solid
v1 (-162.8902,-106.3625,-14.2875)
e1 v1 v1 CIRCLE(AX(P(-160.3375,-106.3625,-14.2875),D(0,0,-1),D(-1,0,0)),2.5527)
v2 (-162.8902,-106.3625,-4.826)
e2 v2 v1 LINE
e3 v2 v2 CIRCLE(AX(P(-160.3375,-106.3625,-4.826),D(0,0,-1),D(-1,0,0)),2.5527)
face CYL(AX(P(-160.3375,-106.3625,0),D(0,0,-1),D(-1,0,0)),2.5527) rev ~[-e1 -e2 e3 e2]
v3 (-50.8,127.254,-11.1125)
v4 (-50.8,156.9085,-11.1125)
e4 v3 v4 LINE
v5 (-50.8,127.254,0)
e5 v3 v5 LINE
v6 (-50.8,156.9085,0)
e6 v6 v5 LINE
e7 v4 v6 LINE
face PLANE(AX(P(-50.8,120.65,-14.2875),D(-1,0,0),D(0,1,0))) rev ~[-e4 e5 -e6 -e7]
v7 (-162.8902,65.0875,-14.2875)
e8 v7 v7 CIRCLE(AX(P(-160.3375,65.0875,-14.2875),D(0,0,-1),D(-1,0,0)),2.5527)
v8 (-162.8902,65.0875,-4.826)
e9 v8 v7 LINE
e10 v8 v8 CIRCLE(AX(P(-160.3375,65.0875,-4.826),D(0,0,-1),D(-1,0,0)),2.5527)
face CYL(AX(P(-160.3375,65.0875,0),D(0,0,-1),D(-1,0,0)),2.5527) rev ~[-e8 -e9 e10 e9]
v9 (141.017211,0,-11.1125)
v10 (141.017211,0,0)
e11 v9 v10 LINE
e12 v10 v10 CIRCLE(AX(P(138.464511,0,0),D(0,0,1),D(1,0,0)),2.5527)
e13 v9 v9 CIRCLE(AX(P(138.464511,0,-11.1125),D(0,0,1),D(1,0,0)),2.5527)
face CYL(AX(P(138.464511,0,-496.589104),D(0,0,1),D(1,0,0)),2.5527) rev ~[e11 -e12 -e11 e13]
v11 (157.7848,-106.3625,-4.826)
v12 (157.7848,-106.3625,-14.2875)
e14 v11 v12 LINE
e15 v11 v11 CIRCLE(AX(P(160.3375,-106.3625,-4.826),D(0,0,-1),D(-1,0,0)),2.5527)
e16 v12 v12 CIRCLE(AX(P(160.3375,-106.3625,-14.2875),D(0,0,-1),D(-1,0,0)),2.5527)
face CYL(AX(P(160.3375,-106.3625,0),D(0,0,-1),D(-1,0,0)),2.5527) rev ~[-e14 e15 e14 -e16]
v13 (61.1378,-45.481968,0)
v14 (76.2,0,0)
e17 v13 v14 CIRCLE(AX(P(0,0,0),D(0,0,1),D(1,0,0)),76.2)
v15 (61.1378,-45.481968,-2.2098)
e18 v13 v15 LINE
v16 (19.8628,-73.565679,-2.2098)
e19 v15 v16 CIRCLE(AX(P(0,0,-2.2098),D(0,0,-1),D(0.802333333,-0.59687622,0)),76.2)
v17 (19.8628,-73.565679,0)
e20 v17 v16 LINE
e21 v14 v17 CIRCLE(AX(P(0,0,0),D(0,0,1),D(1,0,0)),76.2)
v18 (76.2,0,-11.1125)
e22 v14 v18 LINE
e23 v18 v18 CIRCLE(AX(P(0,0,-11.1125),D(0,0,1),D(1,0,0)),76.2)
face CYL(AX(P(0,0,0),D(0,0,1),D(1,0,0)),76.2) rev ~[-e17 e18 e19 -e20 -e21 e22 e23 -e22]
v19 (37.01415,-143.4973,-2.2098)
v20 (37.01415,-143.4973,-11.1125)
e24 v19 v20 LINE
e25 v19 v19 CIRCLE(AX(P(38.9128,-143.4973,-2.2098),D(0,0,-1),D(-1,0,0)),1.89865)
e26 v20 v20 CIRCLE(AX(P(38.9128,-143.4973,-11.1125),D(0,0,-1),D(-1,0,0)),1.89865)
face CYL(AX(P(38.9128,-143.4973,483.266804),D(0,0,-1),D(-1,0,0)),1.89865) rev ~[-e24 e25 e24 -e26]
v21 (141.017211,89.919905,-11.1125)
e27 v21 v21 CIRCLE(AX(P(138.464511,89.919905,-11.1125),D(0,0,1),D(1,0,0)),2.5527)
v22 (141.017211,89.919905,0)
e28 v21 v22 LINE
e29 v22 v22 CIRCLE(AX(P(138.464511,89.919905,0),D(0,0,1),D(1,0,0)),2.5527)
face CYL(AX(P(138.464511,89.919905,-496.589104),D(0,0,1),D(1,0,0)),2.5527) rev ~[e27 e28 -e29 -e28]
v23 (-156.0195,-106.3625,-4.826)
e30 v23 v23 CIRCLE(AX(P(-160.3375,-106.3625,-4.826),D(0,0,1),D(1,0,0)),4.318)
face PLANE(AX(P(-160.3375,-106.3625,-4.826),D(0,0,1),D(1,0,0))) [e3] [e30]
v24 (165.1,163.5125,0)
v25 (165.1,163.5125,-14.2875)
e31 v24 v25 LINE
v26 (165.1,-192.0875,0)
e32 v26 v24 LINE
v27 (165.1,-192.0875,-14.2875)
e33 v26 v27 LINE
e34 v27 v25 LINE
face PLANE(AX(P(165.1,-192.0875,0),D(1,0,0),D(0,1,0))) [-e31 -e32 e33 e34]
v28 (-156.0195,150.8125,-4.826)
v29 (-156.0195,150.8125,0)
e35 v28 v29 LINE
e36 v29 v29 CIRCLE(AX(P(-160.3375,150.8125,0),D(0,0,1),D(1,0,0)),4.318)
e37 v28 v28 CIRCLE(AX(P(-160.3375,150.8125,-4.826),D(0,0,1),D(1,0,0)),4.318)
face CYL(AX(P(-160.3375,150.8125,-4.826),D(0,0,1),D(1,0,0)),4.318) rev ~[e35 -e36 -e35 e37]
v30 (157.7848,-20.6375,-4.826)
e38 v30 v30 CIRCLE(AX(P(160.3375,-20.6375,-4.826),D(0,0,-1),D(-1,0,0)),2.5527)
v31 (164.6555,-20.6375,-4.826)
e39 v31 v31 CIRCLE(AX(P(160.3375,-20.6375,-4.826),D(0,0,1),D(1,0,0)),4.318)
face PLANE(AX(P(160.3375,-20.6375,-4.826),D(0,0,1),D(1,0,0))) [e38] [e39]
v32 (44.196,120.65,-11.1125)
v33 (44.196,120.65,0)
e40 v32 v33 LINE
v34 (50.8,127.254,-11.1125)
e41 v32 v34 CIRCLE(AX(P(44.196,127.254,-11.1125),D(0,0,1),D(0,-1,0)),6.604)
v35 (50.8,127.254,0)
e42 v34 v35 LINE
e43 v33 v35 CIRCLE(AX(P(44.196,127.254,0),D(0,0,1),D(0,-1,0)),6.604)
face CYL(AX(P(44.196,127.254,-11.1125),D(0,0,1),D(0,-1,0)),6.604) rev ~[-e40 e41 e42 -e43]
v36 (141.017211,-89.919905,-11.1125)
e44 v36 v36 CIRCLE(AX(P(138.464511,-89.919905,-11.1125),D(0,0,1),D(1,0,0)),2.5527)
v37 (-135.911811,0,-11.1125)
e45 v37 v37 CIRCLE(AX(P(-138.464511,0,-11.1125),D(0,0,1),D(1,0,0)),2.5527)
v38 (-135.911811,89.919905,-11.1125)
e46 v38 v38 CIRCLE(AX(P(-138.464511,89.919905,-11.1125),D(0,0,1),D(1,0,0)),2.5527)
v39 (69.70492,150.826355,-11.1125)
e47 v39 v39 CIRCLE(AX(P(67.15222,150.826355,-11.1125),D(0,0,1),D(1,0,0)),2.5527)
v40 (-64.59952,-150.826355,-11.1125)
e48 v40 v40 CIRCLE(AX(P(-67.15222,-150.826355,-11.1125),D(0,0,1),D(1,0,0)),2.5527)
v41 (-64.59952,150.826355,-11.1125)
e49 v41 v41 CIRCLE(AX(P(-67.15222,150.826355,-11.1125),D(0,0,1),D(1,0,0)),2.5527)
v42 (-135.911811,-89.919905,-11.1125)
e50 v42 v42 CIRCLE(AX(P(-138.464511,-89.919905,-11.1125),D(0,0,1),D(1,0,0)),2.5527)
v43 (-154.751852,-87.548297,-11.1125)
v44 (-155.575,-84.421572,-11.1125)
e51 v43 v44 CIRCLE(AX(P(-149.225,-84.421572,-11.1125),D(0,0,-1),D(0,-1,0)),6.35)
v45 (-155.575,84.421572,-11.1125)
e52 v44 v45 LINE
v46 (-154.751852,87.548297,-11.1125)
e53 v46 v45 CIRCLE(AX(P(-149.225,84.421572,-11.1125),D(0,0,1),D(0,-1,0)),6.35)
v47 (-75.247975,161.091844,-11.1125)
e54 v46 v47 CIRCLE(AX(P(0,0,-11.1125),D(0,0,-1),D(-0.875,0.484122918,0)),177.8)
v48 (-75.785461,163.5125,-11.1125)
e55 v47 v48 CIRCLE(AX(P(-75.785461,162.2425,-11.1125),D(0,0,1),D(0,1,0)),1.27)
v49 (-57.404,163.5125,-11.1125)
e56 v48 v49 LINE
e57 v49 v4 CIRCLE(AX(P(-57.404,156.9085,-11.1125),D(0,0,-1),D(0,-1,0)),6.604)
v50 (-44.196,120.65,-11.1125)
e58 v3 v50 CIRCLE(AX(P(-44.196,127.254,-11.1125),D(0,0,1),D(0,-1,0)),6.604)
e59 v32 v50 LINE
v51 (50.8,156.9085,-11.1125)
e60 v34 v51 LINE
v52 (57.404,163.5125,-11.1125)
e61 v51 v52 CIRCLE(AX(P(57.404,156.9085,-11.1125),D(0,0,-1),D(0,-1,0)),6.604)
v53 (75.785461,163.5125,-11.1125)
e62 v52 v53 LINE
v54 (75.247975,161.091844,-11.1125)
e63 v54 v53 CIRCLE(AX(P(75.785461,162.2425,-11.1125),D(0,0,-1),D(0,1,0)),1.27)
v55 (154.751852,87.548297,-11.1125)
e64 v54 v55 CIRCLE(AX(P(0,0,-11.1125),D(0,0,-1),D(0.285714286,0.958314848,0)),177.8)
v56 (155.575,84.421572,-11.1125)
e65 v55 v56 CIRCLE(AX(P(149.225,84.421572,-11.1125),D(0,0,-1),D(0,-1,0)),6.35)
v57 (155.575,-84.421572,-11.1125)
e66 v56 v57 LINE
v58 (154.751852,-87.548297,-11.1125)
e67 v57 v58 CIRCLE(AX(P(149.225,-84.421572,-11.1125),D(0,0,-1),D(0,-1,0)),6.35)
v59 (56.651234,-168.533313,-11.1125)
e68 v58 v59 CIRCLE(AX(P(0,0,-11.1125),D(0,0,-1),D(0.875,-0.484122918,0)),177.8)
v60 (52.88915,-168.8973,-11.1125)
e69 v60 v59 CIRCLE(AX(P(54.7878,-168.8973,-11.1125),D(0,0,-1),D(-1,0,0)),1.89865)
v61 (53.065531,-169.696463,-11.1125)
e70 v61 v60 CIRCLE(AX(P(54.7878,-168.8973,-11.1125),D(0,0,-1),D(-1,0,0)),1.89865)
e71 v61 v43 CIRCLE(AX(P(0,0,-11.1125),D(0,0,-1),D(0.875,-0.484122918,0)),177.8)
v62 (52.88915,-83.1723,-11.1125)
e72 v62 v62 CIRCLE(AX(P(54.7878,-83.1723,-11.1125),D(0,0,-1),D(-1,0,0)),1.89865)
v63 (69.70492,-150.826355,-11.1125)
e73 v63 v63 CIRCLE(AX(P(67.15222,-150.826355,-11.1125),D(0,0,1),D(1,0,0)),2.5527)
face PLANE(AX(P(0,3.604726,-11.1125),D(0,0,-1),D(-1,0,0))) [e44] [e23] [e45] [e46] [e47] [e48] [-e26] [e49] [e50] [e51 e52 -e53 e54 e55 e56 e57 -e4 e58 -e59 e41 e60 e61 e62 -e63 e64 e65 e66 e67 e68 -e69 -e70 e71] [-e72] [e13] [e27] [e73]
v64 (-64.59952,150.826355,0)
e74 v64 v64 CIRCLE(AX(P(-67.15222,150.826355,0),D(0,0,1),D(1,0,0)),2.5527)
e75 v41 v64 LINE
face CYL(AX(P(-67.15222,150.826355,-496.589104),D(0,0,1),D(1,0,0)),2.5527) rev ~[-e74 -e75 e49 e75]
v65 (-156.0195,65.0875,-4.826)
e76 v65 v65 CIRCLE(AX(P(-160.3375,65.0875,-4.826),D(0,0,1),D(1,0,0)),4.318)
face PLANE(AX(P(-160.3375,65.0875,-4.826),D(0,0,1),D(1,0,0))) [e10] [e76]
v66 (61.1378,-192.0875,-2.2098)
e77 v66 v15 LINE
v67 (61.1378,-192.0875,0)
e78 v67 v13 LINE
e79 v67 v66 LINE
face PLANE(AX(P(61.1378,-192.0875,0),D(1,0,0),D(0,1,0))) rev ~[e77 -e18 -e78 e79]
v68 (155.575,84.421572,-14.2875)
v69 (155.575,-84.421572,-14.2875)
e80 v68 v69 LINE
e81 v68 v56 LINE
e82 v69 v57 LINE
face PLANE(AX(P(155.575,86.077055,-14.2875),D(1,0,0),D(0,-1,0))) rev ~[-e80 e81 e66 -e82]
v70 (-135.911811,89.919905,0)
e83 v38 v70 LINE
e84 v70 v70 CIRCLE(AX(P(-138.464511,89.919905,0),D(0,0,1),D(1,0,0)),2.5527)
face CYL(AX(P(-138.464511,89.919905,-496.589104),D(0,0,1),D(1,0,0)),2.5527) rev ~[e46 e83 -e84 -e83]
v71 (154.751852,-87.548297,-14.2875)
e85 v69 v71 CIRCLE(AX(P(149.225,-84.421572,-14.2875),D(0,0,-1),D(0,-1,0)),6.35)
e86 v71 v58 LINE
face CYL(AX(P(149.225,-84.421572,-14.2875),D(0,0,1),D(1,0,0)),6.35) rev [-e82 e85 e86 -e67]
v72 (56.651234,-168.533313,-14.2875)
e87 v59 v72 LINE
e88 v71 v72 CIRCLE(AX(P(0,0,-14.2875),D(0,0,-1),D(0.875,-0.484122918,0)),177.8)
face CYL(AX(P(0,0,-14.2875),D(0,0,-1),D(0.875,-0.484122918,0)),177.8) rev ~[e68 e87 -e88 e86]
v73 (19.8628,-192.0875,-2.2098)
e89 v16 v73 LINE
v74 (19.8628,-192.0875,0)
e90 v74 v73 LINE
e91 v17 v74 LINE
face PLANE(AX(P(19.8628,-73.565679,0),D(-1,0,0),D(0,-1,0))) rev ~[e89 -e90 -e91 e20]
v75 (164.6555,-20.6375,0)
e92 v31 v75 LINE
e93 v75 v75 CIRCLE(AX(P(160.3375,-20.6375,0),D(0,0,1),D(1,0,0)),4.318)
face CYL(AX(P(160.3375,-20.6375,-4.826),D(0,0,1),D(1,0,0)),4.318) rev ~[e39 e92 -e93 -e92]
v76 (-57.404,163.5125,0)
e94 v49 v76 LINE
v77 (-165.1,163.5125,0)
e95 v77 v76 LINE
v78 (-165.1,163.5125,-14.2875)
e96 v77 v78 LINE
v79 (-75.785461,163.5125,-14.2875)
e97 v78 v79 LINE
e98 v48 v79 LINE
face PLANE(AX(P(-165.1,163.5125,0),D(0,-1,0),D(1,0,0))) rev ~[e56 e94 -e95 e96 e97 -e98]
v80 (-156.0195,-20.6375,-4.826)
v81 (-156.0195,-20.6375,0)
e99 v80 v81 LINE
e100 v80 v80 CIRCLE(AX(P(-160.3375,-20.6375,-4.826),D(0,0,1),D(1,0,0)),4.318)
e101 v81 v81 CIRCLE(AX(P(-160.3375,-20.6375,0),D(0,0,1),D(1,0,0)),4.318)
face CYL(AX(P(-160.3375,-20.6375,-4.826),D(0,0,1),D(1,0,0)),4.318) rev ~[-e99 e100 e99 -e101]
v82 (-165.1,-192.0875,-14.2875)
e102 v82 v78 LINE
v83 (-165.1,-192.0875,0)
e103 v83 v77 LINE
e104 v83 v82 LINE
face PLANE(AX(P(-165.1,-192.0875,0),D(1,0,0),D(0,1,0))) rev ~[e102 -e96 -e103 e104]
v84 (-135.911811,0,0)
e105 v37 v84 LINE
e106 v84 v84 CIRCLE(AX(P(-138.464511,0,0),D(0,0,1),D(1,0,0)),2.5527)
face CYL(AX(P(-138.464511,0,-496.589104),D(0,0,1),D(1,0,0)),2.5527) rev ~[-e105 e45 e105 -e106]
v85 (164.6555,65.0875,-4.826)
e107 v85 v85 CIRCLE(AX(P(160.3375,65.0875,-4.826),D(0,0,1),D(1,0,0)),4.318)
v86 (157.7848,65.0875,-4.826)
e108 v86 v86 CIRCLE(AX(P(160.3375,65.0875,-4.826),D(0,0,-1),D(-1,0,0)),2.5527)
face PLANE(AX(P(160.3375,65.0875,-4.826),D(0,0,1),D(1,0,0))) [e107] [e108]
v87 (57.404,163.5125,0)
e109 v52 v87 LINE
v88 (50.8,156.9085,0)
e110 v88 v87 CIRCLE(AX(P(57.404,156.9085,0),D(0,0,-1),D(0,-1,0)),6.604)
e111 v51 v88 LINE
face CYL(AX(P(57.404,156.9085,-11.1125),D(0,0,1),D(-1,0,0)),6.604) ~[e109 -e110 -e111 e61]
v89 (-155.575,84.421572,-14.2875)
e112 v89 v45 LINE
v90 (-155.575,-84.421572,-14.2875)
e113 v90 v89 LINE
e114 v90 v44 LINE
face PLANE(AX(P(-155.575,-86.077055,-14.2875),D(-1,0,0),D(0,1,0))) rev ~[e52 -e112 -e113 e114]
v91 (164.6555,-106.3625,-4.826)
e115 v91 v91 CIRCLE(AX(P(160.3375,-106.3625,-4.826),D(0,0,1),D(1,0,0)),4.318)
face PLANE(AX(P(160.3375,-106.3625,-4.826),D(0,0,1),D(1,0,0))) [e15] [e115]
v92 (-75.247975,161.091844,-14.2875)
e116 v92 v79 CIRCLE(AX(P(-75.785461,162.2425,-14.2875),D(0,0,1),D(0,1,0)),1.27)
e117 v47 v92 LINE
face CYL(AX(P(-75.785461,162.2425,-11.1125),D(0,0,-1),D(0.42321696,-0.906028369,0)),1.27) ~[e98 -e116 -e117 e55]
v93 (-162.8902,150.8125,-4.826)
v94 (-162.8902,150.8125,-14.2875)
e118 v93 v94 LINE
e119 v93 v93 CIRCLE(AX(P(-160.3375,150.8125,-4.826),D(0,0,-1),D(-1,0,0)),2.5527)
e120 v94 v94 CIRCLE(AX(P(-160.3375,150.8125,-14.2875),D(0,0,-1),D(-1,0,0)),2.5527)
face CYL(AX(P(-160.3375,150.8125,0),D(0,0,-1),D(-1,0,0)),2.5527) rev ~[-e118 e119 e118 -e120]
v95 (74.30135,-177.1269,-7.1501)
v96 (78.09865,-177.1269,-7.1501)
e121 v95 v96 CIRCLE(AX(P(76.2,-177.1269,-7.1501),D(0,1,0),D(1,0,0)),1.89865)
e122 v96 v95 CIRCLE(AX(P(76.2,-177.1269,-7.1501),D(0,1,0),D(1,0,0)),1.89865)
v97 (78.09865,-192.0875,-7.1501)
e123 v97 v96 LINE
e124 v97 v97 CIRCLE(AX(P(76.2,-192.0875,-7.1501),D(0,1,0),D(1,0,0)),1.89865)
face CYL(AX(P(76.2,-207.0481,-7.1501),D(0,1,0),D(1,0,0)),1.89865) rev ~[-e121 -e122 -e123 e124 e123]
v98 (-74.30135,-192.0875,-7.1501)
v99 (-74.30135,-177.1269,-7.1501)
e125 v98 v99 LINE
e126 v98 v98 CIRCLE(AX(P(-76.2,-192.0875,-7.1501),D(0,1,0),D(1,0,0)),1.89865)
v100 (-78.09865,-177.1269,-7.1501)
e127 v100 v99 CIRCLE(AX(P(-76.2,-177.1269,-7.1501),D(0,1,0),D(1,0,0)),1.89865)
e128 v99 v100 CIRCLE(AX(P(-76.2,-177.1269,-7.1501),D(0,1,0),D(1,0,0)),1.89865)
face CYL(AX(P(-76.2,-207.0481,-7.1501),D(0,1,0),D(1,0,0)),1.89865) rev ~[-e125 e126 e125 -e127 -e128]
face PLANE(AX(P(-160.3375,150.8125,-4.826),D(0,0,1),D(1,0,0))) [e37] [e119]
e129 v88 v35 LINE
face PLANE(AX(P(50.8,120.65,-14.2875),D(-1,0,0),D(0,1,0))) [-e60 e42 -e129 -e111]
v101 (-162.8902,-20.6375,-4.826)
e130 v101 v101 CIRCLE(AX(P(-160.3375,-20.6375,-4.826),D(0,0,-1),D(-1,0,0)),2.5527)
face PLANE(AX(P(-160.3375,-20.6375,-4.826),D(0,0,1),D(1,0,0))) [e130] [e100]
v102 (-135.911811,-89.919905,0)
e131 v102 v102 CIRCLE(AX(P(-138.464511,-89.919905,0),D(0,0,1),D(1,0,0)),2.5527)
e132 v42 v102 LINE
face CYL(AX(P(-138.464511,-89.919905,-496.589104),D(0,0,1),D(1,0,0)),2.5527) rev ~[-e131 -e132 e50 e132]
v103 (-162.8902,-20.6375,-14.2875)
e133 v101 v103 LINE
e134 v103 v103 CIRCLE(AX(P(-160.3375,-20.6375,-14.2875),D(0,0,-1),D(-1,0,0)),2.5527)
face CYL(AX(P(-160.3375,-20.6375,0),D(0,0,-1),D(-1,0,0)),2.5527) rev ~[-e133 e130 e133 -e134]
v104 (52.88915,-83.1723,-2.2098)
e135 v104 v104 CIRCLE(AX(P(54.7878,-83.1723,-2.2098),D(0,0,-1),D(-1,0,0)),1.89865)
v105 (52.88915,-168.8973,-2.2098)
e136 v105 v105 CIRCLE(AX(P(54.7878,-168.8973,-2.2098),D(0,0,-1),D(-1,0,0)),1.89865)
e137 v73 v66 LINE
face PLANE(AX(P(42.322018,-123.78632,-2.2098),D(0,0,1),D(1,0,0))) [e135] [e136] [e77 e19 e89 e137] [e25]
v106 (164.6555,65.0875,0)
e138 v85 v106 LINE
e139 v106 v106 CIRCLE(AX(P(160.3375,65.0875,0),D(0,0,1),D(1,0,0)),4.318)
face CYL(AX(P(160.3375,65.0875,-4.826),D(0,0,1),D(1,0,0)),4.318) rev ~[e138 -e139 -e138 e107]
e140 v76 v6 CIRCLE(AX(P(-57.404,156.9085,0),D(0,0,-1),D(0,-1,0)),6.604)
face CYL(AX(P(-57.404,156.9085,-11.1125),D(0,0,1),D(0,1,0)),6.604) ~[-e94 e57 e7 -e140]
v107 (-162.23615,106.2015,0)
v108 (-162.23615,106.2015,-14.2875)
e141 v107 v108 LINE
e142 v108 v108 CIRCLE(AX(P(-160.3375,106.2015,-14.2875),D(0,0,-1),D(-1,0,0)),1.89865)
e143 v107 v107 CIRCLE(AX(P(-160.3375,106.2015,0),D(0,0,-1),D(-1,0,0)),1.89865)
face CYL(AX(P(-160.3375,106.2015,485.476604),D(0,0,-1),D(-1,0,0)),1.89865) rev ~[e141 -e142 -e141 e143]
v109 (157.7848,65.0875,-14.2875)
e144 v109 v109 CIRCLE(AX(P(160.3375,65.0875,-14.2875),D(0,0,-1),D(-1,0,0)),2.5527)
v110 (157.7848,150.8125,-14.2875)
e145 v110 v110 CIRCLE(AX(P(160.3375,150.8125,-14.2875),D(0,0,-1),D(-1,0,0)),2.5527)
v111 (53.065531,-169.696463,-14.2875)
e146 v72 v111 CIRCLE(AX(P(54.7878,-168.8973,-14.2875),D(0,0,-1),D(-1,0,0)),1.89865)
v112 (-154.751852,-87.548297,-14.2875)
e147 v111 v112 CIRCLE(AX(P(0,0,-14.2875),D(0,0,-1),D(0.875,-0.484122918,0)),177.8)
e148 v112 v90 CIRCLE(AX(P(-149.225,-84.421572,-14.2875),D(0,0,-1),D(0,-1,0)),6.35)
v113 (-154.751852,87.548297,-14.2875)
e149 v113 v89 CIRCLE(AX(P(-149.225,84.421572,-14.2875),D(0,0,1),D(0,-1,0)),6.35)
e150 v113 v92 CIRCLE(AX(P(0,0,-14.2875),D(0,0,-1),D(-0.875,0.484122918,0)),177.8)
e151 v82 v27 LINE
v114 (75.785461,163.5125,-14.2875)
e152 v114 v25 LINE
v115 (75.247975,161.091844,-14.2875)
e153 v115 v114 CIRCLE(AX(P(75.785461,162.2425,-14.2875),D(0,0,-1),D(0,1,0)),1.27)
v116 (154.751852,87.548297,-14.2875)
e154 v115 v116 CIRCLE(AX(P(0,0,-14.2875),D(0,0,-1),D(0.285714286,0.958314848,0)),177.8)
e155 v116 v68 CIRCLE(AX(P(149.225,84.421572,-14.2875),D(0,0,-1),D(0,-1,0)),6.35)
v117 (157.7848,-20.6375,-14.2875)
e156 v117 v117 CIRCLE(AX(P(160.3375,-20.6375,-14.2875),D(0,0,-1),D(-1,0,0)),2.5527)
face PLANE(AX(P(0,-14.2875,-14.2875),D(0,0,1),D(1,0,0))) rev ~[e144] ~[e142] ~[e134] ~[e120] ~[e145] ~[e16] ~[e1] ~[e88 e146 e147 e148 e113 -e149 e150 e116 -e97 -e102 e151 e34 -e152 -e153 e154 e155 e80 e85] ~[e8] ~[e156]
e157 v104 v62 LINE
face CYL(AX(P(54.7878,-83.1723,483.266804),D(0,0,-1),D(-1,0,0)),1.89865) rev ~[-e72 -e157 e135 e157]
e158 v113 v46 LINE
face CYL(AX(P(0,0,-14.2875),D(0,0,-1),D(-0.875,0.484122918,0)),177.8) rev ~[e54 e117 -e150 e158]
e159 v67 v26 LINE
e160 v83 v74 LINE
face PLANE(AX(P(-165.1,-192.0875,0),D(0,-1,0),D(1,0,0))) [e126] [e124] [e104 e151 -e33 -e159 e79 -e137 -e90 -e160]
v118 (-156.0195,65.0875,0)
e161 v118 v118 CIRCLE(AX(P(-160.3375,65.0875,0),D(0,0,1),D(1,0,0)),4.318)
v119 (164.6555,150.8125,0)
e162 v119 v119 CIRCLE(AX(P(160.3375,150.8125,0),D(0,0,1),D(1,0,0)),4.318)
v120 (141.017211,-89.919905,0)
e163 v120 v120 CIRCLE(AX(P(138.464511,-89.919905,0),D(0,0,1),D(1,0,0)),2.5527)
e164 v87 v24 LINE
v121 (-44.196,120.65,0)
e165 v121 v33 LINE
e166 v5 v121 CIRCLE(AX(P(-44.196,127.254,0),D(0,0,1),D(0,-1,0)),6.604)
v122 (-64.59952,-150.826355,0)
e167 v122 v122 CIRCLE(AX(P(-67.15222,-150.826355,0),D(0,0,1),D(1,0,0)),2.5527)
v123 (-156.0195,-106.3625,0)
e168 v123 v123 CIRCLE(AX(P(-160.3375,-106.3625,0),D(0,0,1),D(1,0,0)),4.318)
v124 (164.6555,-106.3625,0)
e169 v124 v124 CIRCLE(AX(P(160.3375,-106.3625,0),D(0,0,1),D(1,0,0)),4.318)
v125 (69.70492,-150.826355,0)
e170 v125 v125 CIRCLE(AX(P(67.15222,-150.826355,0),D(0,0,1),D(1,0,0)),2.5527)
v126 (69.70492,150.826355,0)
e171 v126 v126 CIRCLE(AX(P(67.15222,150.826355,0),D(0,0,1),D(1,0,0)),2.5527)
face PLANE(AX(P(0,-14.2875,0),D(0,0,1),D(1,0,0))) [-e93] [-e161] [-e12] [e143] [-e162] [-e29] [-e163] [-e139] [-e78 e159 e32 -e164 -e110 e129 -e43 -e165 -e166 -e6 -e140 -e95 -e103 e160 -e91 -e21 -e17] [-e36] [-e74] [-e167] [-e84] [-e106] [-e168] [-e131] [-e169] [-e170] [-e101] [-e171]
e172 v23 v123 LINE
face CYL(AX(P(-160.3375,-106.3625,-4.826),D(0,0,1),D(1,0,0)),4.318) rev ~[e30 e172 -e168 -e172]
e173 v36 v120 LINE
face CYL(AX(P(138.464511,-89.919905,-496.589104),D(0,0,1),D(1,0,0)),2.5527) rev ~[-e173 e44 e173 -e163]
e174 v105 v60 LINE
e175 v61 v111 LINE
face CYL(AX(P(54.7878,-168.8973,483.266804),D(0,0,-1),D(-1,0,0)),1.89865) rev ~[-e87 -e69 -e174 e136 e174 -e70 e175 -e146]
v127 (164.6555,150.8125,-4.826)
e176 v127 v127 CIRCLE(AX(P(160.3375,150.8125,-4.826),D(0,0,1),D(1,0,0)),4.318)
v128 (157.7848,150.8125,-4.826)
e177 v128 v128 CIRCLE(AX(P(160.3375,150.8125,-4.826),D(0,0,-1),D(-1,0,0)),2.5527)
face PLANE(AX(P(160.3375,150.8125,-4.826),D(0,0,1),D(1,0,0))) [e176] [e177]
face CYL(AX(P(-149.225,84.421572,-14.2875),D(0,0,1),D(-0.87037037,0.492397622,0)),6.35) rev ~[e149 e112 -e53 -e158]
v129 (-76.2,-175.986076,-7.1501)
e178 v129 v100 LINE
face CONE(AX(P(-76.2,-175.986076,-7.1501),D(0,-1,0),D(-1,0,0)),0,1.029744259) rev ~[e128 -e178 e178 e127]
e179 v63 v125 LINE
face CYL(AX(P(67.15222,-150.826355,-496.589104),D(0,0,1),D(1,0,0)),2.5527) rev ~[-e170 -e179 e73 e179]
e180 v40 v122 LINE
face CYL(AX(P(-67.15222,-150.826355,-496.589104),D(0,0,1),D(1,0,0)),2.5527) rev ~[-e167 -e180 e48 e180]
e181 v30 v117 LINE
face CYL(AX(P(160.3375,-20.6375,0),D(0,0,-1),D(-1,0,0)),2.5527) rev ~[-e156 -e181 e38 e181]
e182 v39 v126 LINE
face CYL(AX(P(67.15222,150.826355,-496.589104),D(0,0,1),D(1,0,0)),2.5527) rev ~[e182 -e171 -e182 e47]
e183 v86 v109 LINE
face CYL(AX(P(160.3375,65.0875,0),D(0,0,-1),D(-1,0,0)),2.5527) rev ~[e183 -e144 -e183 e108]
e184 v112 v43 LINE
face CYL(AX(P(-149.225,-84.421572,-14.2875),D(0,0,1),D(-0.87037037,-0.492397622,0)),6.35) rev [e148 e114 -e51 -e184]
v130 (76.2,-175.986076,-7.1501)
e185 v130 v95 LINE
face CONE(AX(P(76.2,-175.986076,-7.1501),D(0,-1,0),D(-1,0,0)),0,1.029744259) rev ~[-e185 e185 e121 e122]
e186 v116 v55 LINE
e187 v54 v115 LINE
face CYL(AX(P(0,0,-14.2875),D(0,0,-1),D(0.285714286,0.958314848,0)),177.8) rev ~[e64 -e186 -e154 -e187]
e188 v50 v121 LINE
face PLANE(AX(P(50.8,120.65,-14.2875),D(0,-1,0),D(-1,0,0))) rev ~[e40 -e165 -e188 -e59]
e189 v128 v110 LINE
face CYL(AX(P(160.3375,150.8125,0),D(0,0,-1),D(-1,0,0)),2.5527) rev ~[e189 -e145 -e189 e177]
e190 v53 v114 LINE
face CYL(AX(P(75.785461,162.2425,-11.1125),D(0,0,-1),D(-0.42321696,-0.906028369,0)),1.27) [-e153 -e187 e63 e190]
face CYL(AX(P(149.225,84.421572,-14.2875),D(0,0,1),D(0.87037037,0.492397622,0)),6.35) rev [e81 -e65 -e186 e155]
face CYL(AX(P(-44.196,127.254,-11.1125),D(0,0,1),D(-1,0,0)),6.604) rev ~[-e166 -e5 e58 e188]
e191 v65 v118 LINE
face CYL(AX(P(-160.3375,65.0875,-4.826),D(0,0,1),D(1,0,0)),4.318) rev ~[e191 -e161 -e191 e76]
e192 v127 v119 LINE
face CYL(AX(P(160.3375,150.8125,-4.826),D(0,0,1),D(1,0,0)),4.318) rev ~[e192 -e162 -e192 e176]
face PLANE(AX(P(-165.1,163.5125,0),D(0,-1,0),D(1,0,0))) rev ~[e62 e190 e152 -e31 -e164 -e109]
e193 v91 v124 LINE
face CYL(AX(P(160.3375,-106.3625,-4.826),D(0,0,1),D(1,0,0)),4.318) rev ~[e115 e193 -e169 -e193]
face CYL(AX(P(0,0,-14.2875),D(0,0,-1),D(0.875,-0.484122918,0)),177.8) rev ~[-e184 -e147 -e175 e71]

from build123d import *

# Parameters (mm, degrees)
SKETCH1_W                                       = 330.2
SKETCH1_H                                       = 355.6
SKETCH1_R                                       = 76.2
BOSS_EXTRUDE1_DEPTH                             = 14.2875
CUT_EXTRUDE1_DEPTH                              = 2.2098
SKETCH2_R                                       = 76.2
CUT_EXTRUDE2_DEPTH                              = 3.175
SKETCH2_3_W                                     = 101.6
SKETCH2_3_H                                     = 42.8625
CUT_EXTRUDE3_DEPTH                              = 15.2875
FILLET1_R                                       = 6.604
FILLET2_R                                       = 6.35
FILLET3_R                                       = 1.27
F_1_4_20_TAPPED_HOLE1_D                         = 5.1054
F_10_24_TAPPED_HOLE1_D                          = 3.7973
CBORE_FOR_10_SOCKET_HEAD_CAP_SCREW2_D           = 5.1054
CBORE_FOR_10_SOCKET_HEAD_CAP_SCREW2_CBORE_D     = 8.636
CBORE_FOR_10_SOCKET_HEAD_CAP_SCREW2_CBORE_DEPTH = 4.826
F_10_24_TAPPED_HOLE2_D                          = 3.7973
F_10_24_TAPPED_HOLE2_DEPTH                      = 14.9606
F_10_24_TAPPED_HOLE2_TIP                        = 1.140824014
F_6_CLEARANCE_HOLE1_D                           = 3.7973


with BuildPart() as part:
    # Sketch1 → Boss-Extrude1 (new body)
    with BuildSketch(Plane.XY):
        with Locations((0, -14.2875)):
            Rectangle(SKETCH1_W, SKETCH1_H)
        Circle(SKETCH1_R, mode=Mode.SUBTRACT)
    extrude(amount=-BOSS_EXTRUDE1_DEPTH)

    # Sketch1_3 → Cut-Extrude1 (cut)
    with BuildSketch(Plane.XY):
        with BuildLine():
            Line((19.8628, -73.565679336), (19.8628, -192.0875))
            Line((19.8628, -192.0875), (61.1378, -192.0875))
            Line((61.1378, -192.0875), (61.1378, -45.481967978))
            ThreePointArc((61.1378, -45.481967978), (42.865464082, -62.999936421), (19.8628, -73.565679336))
        make_face()
    extrude(amount=-CUT_EXTRUDE1_DEPTH, mode=Mode.SUBTRACT)

    # Sketch2 → Cut-Extrude2 (cut)
    with BuildSketch(Plane(origin=(0, 0, -14.2875), x_dir=(-1, 0, 0), z_dir=(0, 0, -1))):
        with BuildLine():
            Line((50.8, 170.388379885), (50.8, 163.5125))
            Line((50.8, 163.5125), (-50.8, 163.5125))
            Line((-50.8, 163.5125), (-50.8, 170.388379885))
            ThreePointArc((-50.8, 170.388379885), (-111.466407665, 138.521045196), (-155.575, 86.077054869))
            Line((-155.575, 86.077054869), (-155.575, -86.077054869))
            ThreePointArc((-155.575, -86.077054869), (0, -177.8), (155.575, -86.077054869))
            Line((155.575, -86.077054869), (155.575, 86.077054869))
            ThreePointArc((155.575, 86.077054869), (111.466407665, 138.521045196), (50.8, 170.388379885))
        make_face()
        with Locations(Location((0, 0, 0), (0, 0, 216.646499469))):  # turned: the seam where the file's is
            Circle(SKETCH2_R, mode=Mode.SUBTRACT)
    extrude(amount=-CUT_EXTRUDE2_DEPTH, mode=Mode.SUBTRACT)

    # Sketch2_3 → Cut-Extrude3 (cut, through all)
    with BuildSketch(Plane(origin=(0, 0, -14.2875), x_dir=(-1, 0, 0), z_dir=(0, 0, -1))):
        with Locations((0, 142.08125)):
            Rectangle(SKETCH2_3_W, SKETCH2_3_H)
    extrude(amount=-CUT_EXTRUDE3_DEPTH, mode=Mode.SUBTRACT)

    # Fillet1
    fillet1_edges = [part.edges().sort_by_distance(p)[0] for p in [
        (-50.8, 163.5125, -5.55625),
        (50.8, 120.65, -5.55625),
        (-50.8, 120.65, -5.55625),
        (50.8, 163.5125, -5.55625),
    ]]
    fillet(fillet1_edges, radius=FILLET1_R)

    # Fillet2
    fillet2_edges = [part.edges().sort_by_distance(p)[0] for p in [
        (-155.575, 86.077054869, -12.7),
        (-155.575, -86.077054869, -12.7),
        (155.575, -86.077054869, -12.7),
        (155.575, 86.077054869, -12.7),
    ]]
    fillet(fillet2_edges, radius=FILLET2_R)

    # Fillet3
    fillet3_edges = [part.edges().sort_by_distance(p)[0] for p in [
        (69.831957897, 163.5125, -12.7),
        (-69.831957897, 163.5125, -12.7),
    ]]
    fillet(fillet3_edges, radius=FILLET3_R)

    # 1_4-20 Tapped Hole1 (through all)
    with Locations(Plane(origin=(0, 0, -11.1125), x_dir=(-1, 0, 0), z_dir=(0, 0, -1))):
        with Locations((-67.152219772, 150.826355057), (-138.464510768, 89.919904681), (-138.464510768, 0), (-138.464510768, -89.919904681), (-67.152219772, -150.826355057), (67.152219772, -150.826355057), (138.464510768, -89.919904681), (138.464510768, 0), (138.464510768, 89.919904681), (67.152219772, 150.826355057)):
            Hole(F_1_4_20_TAPPED_HOLE1_D / 2)

    # 10-24 Tapped Hole1 (through all)
    with Locations(Plane.XY.offset(-2.2098)):
        with Locations((54.7878, -83.1723), (54.7878, -168.8973), (38.9128, -143.4973)):
            Hole(F_10_24_TAPPED_HOLE1_D / 2)

    # CBORE for _10 Socket Head Cap Screw2 (through all)
    with Locations(Plane.XY):
        with Locations((-160.3375, -106.3625), (160.3375, -106.3625), (160.3375, -20.6375), (160.3375, 65.0875), (160.3375, 150.8125), (-160.3375, -20.6375), (-160.3375, 65.0875), (-160.3375, 150.8125)):
            CounterBoreHole(CBORE_FOR_10_SOCKET_HEAD_CAP_SCREW2_D / 2, CBORE_FOR_10_SOCKET_HEAD_CAP_SCREW2_CBORE_D / 2, CBORE_FOR_10_SOCKET_HEAD_CAP_SCREW2_CBORE_DEPTH)

    # 10-24 Tapped Hole2
    with Locations(Plane(origin=(0, -192.0875, 0), x_dir=(-1, 0, 0), z_dir=(0, -1, 0))):
        with Locations((76.2, 7.1501), (-76.2, 7.1501)):
            Hole(F_10_24_TAPPED_HOLE2_D / 2, depth=F_10_24_TAPPED_HOLE2_DEPTH)
            with Locations((0, 0, -(F_10_24_TAPPED_HOLE2_DEPTH + F_10_24_TAPPED_HOLE2_TIP / 2))):  # 118° drill point
                Cone(0, F_10_24_TAPPED_HOLE2_D / 2, F_10_24_TAPPED_HOLE2_TIP, mode=Mode.SUBTRACT)

    # 6 Clearance Hole1 (through all)
    with Locations(Plane.XY):
        with Locations((-160.3375, 106.2015)):
            Hole(F_6_CLEARANCE_HOLE1_D / 2)


solid = part.part
